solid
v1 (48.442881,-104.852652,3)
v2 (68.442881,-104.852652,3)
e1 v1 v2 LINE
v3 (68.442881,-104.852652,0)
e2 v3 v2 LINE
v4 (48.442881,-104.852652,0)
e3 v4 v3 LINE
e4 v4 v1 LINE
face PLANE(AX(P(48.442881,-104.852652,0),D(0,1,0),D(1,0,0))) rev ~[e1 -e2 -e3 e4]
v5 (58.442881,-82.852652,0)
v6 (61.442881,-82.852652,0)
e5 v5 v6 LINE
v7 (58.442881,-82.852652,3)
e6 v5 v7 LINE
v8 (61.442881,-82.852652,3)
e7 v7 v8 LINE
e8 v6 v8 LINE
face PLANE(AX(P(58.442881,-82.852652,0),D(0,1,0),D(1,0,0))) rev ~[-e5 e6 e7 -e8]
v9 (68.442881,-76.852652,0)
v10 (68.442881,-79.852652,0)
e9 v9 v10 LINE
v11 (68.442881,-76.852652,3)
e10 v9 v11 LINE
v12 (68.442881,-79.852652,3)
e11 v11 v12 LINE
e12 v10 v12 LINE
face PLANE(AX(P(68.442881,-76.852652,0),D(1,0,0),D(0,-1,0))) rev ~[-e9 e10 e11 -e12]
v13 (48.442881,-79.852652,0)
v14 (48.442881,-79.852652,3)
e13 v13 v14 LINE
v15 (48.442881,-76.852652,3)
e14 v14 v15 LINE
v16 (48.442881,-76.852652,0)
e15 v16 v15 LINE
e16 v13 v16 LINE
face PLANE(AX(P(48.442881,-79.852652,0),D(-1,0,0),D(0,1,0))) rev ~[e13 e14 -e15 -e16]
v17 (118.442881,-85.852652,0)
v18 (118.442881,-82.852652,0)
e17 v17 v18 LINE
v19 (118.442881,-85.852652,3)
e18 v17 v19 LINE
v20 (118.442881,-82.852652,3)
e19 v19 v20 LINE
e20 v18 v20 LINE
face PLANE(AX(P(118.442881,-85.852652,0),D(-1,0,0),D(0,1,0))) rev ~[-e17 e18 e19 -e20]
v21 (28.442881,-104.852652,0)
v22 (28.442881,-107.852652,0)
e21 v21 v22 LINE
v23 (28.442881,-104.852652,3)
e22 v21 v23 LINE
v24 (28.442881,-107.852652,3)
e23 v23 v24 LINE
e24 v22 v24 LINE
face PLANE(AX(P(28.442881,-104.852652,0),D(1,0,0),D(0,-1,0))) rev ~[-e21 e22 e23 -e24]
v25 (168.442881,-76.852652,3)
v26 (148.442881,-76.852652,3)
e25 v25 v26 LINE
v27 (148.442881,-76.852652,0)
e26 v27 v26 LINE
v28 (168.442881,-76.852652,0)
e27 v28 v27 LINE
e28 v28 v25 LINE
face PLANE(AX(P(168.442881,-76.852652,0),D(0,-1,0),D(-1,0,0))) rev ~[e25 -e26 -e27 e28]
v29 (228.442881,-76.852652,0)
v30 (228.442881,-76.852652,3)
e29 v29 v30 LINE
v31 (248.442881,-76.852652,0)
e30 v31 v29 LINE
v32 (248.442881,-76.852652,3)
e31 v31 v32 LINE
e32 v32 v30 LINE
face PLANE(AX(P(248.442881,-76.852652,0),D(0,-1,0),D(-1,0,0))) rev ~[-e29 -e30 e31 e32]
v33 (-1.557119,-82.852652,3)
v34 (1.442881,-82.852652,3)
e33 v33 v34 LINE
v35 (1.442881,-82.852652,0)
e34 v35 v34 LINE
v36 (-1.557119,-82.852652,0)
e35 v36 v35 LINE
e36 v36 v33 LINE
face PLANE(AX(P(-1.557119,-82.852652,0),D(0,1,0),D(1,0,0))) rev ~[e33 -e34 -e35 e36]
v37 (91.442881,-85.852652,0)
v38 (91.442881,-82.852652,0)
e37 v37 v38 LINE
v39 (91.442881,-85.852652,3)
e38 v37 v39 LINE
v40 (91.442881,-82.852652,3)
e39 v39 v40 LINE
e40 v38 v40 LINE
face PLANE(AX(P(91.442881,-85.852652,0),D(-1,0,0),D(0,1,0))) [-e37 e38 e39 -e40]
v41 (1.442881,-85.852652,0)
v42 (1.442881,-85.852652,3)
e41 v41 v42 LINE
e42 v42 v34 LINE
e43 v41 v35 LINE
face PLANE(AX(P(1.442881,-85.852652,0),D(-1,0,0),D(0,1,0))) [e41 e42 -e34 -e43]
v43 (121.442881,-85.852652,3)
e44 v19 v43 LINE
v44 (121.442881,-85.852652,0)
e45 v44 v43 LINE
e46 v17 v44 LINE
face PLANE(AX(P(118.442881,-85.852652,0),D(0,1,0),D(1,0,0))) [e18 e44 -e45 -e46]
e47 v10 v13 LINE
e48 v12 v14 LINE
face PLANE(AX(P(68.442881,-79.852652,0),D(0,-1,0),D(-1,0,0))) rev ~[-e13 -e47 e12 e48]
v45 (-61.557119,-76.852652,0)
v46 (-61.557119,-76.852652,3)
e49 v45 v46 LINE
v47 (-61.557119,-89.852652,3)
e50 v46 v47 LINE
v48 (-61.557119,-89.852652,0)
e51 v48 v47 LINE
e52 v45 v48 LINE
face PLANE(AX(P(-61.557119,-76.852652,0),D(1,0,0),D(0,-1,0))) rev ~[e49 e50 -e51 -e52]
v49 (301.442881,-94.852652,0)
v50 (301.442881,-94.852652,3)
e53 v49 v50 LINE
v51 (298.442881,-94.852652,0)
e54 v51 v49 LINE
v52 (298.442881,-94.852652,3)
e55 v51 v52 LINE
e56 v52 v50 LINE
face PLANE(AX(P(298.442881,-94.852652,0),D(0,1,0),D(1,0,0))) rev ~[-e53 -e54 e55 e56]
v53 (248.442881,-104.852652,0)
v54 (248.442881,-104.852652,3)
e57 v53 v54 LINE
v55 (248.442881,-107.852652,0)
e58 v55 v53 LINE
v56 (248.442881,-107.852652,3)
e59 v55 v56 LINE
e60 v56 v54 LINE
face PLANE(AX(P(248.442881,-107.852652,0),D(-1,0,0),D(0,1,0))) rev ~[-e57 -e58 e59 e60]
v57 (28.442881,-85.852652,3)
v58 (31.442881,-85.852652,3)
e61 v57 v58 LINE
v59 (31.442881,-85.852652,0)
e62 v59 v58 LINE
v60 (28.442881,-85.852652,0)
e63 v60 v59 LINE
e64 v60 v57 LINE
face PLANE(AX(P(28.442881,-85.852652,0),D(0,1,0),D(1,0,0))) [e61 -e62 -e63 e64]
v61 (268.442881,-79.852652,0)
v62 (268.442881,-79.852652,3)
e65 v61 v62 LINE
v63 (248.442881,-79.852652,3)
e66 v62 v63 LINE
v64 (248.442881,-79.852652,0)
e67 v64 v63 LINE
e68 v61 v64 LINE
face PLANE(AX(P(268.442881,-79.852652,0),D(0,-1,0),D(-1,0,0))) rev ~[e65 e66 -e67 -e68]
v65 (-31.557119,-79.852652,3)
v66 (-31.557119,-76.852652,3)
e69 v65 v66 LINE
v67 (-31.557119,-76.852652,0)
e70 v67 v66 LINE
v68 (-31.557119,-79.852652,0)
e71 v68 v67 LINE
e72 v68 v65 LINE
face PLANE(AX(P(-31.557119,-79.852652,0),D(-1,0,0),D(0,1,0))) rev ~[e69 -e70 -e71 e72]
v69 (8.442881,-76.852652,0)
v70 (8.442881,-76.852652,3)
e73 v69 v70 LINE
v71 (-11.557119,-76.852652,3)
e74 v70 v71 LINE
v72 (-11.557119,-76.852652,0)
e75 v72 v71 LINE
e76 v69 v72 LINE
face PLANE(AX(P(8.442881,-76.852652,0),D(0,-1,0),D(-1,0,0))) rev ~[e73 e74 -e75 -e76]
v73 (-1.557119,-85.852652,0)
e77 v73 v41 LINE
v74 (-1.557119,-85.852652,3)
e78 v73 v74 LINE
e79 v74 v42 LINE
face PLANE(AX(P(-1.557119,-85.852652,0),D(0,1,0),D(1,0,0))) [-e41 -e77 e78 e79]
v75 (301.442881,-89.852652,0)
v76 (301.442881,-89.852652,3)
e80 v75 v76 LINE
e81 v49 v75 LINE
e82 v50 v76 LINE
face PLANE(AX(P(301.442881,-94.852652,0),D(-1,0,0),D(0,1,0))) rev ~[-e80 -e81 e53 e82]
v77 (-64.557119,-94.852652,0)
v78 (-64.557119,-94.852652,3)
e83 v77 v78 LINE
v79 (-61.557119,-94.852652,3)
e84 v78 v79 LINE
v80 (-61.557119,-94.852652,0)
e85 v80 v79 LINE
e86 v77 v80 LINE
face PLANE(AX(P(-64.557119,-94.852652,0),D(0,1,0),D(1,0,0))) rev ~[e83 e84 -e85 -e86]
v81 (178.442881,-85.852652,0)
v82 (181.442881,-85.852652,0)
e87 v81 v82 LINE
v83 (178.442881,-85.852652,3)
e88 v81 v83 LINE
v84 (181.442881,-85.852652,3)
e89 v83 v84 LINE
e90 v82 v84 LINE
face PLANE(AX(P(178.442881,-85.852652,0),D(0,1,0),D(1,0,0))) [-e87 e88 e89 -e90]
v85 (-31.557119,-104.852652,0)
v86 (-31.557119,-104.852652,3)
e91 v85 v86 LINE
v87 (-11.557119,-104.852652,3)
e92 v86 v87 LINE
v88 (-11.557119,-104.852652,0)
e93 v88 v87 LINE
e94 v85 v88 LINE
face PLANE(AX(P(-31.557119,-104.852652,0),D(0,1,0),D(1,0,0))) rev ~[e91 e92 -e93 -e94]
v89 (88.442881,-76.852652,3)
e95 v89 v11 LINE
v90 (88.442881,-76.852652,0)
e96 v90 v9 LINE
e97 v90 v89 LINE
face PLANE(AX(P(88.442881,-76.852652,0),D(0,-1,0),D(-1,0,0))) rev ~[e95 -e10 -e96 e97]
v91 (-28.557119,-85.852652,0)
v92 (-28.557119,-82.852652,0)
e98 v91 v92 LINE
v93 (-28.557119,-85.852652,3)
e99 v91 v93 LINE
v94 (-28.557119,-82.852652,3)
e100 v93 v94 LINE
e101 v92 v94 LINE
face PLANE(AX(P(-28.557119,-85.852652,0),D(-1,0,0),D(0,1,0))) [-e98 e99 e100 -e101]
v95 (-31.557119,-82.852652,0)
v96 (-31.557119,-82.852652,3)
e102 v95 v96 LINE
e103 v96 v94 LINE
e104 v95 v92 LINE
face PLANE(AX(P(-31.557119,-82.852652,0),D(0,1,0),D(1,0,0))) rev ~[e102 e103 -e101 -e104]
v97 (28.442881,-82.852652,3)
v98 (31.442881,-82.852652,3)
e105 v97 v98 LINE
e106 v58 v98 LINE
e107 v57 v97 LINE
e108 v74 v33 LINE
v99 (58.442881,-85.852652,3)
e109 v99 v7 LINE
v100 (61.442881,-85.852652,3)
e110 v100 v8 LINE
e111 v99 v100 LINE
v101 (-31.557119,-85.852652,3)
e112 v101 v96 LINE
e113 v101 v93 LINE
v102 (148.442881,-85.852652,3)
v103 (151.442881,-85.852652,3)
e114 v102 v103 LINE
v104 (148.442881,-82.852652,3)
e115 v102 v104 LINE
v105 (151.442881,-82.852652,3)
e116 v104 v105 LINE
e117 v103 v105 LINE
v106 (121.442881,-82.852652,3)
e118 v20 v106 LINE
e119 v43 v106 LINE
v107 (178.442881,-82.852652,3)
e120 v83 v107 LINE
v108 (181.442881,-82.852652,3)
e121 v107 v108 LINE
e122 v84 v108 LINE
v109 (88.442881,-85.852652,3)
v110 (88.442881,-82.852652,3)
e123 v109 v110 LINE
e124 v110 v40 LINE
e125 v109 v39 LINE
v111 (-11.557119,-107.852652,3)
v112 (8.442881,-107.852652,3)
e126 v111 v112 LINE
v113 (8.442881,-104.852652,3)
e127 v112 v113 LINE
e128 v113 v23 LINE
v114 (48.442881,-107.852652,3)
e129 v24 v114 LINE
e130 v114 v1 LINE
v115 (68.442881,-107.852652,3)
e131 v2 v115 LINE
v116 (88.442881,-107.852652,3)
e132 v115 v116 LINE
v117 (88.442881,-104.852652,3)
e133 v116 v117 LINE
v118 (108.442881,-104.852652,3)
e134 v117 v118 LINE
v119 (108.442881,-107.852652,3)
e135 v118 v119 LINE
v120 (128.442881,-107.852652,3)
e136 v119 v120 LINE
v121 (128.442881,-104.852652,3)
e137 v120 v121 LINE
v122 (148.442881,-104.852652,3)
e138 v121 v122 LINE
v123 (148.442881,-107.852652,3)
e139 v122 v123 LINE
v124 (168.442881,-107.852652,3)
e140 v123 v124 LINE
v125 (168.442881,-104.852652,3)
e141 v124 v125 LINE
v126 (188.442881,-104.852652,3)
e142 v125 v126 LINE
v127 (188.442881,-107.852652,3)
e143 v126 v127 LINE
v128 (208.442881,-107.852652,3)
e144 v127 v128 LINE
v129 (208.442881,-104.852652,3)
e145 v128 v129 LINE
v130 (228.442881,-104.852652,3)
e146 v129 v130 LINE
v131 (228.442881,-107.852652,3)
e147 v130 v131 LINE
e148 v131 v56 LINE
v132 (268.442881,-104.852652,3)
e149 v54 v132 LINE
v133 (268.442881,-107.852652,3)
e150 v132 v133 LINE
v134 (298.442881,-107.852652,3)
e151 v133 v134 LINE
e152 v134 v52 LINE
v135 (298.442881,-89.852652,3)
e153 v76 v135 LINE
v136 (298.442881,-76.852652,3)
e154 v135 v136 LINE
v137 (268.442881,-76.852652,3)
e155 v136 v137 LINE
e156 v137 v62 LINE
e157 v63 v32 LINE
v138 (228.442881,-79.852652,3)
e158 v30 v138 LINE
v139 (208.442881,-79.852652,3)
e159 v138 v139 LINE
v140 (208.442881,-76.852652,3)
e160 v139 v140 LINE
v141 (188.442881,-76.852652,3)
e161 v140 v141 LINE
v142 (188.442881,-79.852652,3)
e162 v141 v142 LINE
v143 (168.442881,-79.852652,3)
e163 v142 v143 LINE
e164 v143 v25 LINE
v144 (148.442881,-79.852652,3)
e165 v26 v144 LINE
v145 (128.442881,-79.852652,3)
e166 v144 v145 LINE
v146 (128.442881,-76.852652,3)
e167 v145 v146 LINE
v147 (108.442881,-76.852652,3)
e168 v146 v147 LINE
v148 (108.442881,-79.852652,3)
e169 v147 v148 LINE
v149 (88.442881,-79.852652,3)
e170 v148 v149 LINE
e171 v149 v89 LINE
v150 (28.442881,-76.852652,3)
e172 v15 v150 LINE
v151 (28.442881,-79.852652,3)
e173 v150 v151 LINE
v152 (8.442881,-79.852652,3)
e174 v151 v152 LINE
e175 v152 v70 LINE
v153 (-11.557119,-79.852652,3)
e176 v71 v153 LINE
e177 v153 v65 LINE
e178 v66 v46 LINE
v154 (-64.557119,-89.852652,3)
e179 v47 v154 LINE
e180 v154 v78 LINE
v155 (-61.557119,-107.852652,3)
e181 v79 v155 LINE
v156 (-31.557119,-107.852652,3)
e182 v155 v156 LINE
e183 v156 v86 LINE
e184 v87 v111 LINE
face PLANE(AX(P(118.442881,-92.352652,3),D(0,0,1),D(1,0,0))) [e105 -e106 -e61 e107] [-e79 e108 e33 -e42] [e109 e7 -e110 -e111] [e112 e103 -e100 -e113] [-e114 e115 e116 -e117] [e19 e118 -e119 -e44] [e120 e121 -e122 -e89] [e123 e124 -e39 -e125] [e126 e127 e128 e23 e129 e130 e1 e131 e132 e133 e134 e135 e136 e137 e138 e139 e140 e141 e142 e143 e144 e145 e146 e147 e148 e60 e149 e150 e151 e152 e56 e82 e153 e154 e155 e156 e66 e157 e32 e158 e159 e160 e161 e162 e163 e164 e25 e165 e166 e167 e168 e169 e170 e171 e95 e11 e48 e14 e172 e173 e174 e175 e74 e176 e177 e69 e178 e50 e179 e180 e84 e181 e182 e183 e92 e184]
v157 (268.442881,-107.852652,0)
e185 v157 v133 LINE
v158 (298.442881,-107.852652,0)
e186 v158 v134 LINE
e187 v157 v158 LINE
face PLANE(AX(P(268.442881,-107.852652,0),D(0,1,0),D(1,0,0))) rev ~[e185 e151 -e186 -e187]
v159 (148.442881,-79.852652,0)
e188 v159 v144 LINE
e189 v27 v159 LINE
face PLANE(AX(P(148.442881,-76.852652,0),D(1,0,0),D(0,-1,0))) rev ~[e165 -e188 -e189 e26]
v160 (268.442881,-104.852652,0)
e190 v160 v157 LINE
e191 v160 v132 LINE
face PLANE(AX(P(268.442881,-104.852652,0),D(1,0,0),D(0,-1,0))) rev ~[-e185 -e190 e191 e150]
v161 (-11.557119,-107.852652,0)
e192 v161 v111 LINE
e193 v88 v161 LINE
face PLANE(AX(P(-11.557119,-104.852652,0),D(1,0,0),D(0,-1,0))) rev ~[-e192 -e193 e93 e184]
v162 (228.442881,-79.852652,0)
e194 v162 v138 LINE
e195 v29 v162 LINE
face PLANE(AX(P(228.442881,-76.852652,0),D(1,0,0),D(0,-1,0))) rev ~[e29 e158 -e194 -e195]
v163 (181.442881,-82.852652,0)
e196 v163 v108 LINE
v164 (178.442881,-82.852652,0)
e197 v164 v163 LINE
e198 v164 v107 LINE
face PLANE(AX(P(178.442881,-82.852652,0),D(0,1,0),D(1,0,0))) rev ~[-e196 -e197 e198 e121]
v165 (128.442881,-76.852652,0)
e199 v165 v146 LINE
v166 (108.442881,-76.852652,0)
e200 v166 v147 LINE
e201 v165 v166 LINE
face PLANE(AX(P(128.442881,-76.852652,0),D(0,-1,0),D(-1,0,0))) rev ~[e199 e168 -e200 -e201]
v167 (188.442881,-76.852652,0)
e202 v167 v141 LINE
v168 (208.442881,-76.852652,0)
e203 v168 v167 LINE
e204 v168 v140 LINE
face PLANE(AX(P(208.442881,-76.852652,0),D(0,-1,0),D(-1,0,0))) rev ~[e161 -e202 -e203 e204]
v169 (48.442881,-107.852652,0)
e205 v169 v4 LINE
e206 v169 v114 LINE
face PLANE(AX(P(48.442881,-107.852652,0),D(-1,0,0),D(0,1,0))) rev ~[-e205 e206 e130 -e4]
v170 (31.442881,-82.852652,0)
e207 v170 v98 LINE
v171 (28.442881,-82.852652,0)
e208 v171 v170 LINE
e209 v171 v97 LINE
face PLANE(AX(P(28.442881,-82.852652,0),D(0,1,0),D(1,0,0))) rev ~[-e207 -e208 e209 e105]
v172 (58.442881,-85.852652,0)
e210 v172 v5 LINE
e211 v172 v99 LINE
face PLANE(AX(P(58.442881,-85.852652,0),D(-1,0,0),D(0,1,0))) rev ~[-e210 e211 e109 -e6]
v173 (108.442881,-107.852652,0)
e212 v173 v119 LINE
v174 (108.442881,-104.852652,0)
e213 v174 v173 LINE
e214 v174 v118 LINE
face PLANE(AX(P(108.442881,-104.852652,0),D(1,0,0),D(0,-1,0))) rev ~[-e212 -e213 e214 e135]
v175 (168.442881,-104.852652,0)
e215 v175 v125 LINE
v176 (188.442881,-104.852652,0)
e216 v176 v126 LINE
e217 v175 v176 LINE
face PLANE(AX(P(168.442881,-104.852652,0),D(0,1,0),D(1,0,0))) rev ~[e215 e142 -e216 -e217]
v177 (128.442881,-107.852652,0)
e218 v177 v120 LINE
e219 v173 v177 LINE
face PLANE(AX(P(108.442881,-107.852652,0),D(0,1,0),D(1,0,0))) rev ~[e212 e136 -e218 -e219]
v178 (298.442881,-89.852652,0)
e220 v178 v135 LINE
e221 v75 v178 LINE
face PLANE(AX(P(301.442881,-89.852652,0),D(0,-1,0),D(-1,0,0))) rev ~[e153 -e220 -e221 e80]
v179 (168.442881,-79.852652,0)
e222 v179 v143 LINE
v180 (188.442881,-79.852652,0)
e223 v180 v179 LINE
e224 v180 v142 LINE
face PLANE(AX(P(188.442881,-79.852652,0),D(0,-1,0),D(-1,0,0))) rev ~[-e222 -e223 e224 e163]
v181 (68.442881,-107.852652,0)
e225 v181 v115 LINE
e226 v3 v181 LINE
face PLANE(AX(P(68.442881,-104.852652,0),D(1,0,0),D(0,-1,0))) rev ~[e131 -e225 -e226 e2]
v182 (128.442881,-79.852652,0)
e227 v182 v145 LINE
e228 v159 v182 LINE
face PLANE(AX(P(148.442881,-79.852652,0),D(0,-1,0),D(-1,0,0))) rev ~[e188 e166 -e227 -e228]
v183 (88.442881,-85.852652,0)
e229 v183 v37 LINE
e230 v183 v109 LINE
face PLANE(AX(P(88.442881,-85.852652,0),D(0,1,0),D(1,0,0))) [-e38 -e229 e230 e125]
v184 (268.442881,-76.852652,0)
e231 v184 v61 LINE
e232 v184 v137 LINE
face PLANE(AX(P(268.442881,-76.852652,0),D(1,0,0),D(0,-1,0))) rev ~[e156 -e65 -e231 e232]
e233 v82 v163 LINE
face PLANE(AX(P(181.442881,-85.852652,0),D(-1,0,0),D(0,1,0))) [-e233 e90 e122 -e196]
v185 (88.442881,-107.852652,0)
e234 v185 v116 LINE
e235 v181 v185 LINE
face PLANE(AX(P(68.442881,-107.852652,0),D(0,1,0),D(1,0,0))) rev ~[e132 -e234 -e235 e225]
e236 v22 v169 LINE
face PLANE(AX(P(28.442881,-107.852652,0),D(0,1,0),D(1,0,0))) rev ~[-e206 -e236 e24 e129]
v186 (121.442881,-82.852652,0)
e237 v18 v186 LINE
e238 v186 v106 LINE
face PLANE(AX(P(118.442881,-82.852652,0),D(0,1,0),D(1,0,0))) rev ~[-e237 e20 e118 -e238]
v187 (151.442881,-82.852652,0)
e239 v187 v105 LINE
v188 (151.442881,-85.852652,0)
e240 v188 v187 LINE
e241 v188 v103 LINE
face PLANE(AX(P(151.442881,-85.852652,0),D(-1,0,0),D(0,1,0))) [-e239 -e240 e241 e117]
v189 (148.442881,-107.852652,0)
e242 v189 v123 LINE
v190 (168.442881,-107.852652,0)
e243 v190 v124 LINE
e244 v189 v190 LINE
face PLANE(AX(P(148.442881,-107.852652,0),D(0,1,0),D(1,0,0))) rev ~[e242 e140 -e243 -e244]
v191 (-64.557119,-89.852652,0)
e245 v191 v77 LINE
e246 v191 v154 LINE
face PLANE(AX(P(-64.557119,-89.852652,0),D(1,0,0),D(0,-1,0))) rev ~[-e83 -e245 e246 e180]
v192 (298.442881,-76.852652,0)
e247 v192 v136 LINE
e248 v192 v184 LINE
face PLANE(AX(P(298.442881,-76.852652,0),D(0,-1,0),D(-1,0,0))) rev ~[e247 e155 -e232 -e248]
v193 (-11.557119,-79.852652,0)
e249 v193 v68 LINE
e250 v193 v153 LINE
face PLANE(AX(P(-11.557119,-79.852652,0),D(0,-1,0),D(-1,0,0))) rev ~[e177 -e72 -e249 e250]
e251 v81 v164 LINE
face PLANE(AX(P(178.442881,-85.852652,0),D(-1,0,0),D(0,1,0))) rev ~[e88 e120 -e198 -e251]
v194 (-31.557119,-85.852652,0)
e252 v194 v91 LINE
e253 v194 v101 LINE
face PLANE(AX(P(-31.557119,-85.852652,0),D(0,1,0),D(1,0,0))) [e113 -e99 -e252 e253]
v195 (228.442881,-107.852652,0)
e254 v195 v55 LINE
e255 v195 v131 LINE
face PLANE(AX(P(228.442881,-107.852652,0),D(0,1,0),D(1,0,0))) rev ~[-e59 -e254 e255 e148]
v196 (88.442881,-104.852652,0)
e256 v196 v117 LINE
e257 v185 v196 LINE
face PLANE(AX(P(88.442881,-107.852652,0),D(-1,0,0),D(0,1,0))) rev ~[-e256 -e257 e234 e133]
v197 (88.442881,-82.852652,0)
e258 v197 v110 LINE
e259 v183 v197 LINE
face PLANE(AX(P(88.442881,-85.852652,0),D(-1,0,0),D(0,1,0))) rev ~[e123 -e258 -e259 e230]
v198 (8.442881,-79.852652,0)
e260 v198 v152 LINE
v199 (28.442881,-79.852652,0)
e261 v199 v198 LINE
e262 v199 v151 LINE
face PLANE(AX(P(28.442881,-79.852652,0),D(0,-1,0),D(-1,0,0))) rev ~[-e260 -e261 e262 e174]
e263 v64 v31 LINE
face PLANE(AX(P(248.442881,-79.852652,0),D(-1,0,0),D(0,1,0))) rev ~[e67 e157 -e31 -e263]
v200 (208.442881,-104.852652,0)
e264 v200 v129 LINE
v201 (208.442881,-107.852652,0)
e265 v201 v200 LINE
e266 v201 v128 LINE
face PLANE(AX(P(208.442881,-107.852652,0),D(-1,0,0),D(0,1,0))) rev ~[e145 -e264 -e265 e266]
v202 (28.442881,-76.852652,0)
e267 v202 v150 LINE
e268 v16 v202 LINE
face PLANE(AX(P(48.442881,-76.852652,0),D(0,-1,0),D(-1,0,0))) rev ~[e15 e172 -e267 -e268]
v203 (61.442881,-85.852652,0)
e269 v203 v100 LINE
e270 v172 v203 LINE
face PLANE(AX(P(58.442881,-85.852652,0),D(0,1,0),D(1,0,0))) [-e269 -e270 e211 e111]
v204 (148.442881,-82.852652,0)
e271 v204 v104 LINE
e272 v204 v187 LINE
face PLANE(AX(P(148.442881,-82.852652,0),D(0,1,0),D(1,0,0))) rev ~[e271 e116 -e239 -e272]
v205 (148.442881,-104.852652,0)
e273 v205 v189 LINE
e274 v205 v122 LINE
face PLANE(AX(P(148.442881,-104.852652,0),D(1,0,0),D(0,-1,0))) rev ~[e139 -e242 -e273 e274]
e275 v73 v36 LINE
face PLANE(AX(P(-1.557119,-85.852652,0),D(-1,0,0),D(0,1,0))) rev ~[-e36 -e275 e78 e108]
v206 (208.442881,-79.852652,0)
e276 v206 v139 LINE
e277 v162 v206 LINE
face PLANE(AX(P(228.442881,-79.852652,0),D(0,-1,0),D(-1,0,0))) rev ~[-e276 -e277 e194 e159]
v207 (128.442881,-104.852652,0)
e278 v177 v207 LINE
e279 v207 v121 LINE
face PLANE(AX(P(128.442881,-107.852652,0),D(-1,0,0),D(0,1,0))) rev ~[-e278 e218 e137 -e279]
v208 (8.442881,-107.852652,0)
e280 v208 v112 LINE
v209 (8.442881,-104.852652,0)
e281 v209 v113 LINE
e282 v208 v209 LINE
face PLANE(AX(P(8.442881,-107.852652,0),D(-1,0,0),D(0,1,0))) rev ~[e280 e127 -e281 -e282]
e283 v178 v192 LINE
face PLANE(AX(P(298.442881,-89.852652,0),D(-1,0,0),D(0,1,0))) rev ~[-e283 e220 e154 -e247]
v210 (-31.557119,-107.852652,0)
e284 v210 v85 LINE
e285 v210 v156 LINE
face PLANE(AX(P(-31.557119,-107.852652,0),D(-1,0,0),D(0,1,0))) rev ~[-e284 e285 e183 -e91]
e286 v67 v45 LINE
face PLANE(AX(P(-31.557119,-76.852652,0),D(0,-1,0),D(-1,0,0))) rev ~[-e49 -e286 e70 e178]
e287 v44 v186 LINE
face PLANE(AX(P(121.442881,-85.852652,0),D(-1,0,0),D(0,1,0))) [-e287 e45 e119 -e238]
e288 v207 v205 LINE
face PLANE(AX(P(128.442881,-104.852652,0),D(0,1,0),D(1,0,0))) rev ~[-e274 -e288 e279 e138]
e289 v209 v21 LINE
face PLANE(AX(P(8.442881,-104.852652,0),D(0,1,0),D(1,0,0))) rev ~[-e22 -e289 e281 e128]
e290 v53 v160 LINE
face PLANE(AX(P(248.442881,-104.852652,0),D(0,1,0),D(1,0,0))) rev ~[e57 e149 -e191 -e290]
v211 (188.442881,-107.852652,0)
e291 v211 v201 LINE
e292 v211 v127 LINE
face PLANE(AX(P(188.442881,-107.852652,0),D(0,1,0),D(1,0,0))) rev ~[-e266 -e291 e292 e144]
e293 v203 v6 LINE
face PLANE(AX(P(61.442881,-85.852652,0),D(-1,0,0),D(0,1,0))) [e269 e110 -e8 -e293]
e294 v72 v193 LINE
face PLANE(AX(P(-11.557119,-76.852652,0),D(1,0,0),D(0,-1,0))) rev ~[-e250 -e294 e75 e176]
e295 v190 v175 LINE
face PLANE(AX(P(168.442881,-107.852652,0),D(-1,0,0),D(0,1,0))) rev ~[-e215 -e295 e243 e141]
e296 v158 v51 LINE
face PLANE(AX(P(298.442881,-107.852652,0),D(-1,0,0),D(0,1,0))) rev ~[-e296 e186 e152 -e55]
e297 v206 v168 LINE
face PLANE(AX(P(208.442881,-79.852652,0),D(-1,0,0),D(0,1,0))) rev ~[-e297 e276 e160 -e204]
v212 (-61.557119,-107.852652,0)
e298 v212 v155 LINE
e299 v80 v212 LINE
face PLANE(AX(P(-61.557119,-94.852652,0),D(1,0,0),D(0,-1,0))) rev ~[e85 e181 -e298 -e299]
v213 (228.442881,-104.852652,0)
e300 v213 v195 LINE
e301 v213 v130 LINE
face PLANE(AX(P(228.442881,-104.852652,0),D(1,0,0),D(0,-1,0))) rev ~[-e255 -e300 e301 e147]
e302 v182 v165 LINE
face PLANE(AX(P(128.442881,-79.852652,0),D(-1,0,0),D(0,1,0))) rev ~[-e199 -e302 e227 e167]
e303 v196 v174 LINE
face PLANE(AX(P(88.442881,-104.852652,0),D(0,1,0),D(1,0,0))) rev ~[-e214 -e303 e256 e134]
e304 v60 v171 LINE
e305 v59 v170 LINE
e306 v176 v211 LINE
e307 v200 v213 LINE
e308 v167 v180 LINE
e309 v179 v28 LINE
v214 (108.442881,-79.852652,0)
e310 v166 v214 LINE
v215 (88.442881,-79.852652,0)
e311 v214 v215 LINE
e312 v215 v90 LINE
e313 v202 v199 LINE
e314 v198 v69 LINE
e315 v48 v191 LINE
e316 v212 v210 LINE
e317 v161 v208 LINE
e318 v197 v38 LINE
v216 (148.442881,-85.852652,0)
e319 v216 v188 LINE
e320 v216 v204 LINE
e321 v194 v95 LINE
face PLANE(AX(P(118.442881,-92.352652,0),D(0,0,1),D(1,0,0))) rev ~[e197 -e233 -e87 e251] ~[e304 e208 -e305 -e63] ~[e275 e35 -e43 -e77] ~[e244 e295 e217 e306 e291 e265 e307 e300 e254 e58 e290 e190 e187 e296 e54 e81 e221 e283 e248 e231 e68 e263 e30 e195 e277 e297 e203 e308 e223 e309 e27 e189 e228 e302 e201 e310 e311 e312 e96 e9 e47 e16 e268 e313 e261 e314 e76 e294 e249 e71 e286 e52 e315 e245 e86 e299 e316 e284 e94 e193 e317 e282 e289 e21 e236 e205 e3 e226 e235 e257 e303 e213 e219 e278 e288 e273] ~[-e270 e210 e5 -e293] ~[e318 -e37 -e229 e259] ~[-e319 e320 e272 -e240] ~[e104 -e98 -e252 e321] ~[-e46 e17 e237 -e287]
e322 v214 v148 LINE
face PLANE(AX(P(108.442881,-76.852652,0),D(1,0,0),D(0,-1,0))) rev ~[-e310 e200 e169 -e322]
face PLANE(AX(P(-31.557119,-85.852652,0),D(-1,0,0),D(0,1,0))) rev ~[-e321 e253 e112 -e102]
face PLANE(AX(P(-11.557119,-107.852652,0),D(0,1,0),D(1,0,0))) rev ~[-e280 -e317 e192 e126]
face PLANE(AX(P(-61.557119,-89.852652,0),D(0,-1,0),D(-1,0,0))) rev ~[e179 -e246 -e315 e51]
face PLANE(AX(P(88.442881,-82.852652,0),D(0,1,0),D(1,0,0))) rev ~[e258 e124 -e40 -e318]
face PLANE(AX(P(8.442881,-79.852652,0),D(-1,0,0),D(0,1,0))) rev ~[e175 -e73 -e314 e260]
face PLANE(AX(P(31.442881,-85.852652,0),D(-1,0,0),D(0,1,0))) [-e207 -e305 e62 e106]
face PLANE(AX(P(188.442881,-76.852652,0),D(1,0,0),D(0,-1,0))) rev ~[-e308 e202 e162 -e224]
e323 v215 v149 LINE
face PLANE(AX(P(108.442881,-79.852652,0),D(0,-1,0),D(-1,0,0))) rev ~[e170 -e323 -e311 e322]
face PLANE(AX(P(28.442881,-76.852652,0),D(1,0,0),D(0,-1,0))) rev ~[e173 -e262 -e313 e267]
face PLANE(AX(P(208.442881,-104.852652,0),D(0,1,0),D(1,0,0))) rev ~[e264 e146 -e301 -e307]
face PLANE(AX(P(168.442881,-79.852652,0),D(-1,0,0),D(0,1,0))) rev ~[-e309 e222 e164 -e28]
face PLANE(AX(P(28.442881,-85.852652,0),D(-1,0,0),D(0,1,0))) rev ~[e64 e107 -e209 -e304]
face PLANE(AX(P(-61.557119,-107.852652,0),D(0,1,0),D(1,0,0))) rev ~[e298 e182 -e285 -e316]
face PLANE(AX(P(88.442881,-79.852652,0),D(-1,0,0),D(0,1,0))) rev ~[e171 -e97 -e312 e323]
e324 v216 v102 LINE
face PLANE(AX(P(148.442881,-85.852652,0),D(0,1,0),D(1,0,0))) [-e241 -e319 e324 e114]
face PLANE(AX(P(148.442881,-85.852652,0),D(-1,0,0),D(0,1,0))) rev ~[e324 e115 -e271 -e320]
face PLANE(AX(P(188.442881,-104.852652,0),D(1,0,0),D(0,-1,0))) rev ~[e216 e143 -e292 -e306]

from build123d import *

# Parameters (mm, degrees)
SKETCH1_W           = 3
SKETCH1_H           = 3
BOSS_EXTRUDE2_DEPTH = 3


with BuildPart() as part:
    # Sketch1 → Boss-Extrude2 (new body)
    with BuildSketch(Plane.XY):
        Polygon((28.442880719, -76.852652167), (28.442880719, -79.852652167), (8.442880719, -79.852652167), (8.442880719, -76.852652167), (-11.557119281, -76.852652167), (-11.557119281, -79.852652167), (-31.557119281, -79.852652167), (-31.557119281, -76.852652167), (-61.557119281, -76.852652167), (-61.557119281, -79.852652167), (-61.557119281, -89.852652167), (-64.557119281, -89.852652167), (-64.557119281, -94.852652167), (-61.557119281, -94.852652167), (-61.557119281, -104.852652167), (-61.557119281, -107.852652167), (-31.557119281, -107.852652167), (-31.557119281, -104.852652167), (-11.557119281, -104.852652167), (-11.557119281, -107.852652167), (8.442880719, -107.852652167), (8.442880719, -104.852652167), (28.442880719, -104.852652167), (28.442880719, -107.852652167), (48.442880719, -107.852652167), (48.442880719, -104.852652167), (68.442880719, -104.852652167), (68.442880719, -107.852652167), (88.442880719, -107.852652167), (88.442880719, -104.852652167), (108.442880719, -104.852652167), (108.442880719, -107.852652167), (128.442880719, -107.852652167), (128.442880719, -104.852652167), (148.442880719, -104.852652167), (148.442880719, -107.852652167), (168.442880719, -107.852652167), (168.442880719, -104.852652167), (188.442880719, -104.852652167), (188.442880719, -107.852652167), (208.442880719, -107.852652167), (208.442880719, -104.852652167), (228.442880719, -104.852652167), (228.442880719, -107.852652167), (248.442880719, -107.852652167), (248.442880719, -104.852652167), (268.442880719, -104.852652167), (268.442880719, -107.852652167), (298.442880719, -107.852652167), (298.442880719, -104.852652167), (298.442880719, -94.852652167), (301.442880719, -94.852652167), (301.442880719, -89.852652167), (298.442880719, -89.852652167), (298.442880719, -79.852652167), (298.442880719, -76.852652167), (268.442880719, -76.852652167), (268.442880719, -79.852652167), (248.442880719, -79.852652167), (248.442880719, -76.852652167), (228.442880719, -76.852652167), (228.442880719, -79.852652167), (208.442880719, -79.852652167), (208.442880719, -76.852652167), (188.442880719, -76.852652167), (188.442880719, -79.852652167), (168.442880719, -79.852652167), (168.442880719, -76.852652167), (148.442880719, -76.852652167), (148.442880719, -79.852652167), (128.442880719, -79.852652167), (128.442880719, -76.852652167), (108.442880719, -76.852652167), (108.442880719, -79.852652167), (88.442880719, -79.852652167), (88.442880719, -76.852652167), (68.442880719, -76.852652167), (68.442880719, -79.852652167), (48.442880719, -79.852652167), (48.442880719, -76.852652167), align=None)
        with Locations((-0.057119281, -84.352652167)):
            Rectangle(SKETCH1_W, SKETCH1_H, mode=Mode.SUBTRACT)
        with Locations((-30.057119281, -84.352652167)):
            Rectangle(SKETCH1_W, SKETCH1_H, mode=Mode.SUBTRACT)
        with Locations((29.942880719, -84.352652167)):
            Rectangle(SKETCH1_W, SKETCH1_H, mode=Mode.SUBTRACT)
        with Locations((59.942880719, -84.352652167)):
            Rectangle(SKETCH1_W, SKETCH1_H, mode=Mode.SUBTRACT)
        with Locations((89.942880719, -84.352652167)):
            Rectangle(SKETCH1_W, SKETCH1_H, mode=Mode.SUBTRACT)
        with Locations((119.942880719, -84.352652167)):
            Rectangle(SKETCH1_W, SKETCH1_H, mode=Mode.SUBTRACT)
        with Locations((149.942880719, -84.352652167)):
            Rectangle(SKETCH1_W, SKETCH1_H, mode=Mode.SUBTRACT)
        with Locations((179.942880719, -84.352652167)):
            Rectangle(SKETCH1_W, SKETCH1_H, mode=Mode.SUBTRACT)
    extrude(amount=BOSS_EXTRUDE2_DEPTH)


solid = part.part
